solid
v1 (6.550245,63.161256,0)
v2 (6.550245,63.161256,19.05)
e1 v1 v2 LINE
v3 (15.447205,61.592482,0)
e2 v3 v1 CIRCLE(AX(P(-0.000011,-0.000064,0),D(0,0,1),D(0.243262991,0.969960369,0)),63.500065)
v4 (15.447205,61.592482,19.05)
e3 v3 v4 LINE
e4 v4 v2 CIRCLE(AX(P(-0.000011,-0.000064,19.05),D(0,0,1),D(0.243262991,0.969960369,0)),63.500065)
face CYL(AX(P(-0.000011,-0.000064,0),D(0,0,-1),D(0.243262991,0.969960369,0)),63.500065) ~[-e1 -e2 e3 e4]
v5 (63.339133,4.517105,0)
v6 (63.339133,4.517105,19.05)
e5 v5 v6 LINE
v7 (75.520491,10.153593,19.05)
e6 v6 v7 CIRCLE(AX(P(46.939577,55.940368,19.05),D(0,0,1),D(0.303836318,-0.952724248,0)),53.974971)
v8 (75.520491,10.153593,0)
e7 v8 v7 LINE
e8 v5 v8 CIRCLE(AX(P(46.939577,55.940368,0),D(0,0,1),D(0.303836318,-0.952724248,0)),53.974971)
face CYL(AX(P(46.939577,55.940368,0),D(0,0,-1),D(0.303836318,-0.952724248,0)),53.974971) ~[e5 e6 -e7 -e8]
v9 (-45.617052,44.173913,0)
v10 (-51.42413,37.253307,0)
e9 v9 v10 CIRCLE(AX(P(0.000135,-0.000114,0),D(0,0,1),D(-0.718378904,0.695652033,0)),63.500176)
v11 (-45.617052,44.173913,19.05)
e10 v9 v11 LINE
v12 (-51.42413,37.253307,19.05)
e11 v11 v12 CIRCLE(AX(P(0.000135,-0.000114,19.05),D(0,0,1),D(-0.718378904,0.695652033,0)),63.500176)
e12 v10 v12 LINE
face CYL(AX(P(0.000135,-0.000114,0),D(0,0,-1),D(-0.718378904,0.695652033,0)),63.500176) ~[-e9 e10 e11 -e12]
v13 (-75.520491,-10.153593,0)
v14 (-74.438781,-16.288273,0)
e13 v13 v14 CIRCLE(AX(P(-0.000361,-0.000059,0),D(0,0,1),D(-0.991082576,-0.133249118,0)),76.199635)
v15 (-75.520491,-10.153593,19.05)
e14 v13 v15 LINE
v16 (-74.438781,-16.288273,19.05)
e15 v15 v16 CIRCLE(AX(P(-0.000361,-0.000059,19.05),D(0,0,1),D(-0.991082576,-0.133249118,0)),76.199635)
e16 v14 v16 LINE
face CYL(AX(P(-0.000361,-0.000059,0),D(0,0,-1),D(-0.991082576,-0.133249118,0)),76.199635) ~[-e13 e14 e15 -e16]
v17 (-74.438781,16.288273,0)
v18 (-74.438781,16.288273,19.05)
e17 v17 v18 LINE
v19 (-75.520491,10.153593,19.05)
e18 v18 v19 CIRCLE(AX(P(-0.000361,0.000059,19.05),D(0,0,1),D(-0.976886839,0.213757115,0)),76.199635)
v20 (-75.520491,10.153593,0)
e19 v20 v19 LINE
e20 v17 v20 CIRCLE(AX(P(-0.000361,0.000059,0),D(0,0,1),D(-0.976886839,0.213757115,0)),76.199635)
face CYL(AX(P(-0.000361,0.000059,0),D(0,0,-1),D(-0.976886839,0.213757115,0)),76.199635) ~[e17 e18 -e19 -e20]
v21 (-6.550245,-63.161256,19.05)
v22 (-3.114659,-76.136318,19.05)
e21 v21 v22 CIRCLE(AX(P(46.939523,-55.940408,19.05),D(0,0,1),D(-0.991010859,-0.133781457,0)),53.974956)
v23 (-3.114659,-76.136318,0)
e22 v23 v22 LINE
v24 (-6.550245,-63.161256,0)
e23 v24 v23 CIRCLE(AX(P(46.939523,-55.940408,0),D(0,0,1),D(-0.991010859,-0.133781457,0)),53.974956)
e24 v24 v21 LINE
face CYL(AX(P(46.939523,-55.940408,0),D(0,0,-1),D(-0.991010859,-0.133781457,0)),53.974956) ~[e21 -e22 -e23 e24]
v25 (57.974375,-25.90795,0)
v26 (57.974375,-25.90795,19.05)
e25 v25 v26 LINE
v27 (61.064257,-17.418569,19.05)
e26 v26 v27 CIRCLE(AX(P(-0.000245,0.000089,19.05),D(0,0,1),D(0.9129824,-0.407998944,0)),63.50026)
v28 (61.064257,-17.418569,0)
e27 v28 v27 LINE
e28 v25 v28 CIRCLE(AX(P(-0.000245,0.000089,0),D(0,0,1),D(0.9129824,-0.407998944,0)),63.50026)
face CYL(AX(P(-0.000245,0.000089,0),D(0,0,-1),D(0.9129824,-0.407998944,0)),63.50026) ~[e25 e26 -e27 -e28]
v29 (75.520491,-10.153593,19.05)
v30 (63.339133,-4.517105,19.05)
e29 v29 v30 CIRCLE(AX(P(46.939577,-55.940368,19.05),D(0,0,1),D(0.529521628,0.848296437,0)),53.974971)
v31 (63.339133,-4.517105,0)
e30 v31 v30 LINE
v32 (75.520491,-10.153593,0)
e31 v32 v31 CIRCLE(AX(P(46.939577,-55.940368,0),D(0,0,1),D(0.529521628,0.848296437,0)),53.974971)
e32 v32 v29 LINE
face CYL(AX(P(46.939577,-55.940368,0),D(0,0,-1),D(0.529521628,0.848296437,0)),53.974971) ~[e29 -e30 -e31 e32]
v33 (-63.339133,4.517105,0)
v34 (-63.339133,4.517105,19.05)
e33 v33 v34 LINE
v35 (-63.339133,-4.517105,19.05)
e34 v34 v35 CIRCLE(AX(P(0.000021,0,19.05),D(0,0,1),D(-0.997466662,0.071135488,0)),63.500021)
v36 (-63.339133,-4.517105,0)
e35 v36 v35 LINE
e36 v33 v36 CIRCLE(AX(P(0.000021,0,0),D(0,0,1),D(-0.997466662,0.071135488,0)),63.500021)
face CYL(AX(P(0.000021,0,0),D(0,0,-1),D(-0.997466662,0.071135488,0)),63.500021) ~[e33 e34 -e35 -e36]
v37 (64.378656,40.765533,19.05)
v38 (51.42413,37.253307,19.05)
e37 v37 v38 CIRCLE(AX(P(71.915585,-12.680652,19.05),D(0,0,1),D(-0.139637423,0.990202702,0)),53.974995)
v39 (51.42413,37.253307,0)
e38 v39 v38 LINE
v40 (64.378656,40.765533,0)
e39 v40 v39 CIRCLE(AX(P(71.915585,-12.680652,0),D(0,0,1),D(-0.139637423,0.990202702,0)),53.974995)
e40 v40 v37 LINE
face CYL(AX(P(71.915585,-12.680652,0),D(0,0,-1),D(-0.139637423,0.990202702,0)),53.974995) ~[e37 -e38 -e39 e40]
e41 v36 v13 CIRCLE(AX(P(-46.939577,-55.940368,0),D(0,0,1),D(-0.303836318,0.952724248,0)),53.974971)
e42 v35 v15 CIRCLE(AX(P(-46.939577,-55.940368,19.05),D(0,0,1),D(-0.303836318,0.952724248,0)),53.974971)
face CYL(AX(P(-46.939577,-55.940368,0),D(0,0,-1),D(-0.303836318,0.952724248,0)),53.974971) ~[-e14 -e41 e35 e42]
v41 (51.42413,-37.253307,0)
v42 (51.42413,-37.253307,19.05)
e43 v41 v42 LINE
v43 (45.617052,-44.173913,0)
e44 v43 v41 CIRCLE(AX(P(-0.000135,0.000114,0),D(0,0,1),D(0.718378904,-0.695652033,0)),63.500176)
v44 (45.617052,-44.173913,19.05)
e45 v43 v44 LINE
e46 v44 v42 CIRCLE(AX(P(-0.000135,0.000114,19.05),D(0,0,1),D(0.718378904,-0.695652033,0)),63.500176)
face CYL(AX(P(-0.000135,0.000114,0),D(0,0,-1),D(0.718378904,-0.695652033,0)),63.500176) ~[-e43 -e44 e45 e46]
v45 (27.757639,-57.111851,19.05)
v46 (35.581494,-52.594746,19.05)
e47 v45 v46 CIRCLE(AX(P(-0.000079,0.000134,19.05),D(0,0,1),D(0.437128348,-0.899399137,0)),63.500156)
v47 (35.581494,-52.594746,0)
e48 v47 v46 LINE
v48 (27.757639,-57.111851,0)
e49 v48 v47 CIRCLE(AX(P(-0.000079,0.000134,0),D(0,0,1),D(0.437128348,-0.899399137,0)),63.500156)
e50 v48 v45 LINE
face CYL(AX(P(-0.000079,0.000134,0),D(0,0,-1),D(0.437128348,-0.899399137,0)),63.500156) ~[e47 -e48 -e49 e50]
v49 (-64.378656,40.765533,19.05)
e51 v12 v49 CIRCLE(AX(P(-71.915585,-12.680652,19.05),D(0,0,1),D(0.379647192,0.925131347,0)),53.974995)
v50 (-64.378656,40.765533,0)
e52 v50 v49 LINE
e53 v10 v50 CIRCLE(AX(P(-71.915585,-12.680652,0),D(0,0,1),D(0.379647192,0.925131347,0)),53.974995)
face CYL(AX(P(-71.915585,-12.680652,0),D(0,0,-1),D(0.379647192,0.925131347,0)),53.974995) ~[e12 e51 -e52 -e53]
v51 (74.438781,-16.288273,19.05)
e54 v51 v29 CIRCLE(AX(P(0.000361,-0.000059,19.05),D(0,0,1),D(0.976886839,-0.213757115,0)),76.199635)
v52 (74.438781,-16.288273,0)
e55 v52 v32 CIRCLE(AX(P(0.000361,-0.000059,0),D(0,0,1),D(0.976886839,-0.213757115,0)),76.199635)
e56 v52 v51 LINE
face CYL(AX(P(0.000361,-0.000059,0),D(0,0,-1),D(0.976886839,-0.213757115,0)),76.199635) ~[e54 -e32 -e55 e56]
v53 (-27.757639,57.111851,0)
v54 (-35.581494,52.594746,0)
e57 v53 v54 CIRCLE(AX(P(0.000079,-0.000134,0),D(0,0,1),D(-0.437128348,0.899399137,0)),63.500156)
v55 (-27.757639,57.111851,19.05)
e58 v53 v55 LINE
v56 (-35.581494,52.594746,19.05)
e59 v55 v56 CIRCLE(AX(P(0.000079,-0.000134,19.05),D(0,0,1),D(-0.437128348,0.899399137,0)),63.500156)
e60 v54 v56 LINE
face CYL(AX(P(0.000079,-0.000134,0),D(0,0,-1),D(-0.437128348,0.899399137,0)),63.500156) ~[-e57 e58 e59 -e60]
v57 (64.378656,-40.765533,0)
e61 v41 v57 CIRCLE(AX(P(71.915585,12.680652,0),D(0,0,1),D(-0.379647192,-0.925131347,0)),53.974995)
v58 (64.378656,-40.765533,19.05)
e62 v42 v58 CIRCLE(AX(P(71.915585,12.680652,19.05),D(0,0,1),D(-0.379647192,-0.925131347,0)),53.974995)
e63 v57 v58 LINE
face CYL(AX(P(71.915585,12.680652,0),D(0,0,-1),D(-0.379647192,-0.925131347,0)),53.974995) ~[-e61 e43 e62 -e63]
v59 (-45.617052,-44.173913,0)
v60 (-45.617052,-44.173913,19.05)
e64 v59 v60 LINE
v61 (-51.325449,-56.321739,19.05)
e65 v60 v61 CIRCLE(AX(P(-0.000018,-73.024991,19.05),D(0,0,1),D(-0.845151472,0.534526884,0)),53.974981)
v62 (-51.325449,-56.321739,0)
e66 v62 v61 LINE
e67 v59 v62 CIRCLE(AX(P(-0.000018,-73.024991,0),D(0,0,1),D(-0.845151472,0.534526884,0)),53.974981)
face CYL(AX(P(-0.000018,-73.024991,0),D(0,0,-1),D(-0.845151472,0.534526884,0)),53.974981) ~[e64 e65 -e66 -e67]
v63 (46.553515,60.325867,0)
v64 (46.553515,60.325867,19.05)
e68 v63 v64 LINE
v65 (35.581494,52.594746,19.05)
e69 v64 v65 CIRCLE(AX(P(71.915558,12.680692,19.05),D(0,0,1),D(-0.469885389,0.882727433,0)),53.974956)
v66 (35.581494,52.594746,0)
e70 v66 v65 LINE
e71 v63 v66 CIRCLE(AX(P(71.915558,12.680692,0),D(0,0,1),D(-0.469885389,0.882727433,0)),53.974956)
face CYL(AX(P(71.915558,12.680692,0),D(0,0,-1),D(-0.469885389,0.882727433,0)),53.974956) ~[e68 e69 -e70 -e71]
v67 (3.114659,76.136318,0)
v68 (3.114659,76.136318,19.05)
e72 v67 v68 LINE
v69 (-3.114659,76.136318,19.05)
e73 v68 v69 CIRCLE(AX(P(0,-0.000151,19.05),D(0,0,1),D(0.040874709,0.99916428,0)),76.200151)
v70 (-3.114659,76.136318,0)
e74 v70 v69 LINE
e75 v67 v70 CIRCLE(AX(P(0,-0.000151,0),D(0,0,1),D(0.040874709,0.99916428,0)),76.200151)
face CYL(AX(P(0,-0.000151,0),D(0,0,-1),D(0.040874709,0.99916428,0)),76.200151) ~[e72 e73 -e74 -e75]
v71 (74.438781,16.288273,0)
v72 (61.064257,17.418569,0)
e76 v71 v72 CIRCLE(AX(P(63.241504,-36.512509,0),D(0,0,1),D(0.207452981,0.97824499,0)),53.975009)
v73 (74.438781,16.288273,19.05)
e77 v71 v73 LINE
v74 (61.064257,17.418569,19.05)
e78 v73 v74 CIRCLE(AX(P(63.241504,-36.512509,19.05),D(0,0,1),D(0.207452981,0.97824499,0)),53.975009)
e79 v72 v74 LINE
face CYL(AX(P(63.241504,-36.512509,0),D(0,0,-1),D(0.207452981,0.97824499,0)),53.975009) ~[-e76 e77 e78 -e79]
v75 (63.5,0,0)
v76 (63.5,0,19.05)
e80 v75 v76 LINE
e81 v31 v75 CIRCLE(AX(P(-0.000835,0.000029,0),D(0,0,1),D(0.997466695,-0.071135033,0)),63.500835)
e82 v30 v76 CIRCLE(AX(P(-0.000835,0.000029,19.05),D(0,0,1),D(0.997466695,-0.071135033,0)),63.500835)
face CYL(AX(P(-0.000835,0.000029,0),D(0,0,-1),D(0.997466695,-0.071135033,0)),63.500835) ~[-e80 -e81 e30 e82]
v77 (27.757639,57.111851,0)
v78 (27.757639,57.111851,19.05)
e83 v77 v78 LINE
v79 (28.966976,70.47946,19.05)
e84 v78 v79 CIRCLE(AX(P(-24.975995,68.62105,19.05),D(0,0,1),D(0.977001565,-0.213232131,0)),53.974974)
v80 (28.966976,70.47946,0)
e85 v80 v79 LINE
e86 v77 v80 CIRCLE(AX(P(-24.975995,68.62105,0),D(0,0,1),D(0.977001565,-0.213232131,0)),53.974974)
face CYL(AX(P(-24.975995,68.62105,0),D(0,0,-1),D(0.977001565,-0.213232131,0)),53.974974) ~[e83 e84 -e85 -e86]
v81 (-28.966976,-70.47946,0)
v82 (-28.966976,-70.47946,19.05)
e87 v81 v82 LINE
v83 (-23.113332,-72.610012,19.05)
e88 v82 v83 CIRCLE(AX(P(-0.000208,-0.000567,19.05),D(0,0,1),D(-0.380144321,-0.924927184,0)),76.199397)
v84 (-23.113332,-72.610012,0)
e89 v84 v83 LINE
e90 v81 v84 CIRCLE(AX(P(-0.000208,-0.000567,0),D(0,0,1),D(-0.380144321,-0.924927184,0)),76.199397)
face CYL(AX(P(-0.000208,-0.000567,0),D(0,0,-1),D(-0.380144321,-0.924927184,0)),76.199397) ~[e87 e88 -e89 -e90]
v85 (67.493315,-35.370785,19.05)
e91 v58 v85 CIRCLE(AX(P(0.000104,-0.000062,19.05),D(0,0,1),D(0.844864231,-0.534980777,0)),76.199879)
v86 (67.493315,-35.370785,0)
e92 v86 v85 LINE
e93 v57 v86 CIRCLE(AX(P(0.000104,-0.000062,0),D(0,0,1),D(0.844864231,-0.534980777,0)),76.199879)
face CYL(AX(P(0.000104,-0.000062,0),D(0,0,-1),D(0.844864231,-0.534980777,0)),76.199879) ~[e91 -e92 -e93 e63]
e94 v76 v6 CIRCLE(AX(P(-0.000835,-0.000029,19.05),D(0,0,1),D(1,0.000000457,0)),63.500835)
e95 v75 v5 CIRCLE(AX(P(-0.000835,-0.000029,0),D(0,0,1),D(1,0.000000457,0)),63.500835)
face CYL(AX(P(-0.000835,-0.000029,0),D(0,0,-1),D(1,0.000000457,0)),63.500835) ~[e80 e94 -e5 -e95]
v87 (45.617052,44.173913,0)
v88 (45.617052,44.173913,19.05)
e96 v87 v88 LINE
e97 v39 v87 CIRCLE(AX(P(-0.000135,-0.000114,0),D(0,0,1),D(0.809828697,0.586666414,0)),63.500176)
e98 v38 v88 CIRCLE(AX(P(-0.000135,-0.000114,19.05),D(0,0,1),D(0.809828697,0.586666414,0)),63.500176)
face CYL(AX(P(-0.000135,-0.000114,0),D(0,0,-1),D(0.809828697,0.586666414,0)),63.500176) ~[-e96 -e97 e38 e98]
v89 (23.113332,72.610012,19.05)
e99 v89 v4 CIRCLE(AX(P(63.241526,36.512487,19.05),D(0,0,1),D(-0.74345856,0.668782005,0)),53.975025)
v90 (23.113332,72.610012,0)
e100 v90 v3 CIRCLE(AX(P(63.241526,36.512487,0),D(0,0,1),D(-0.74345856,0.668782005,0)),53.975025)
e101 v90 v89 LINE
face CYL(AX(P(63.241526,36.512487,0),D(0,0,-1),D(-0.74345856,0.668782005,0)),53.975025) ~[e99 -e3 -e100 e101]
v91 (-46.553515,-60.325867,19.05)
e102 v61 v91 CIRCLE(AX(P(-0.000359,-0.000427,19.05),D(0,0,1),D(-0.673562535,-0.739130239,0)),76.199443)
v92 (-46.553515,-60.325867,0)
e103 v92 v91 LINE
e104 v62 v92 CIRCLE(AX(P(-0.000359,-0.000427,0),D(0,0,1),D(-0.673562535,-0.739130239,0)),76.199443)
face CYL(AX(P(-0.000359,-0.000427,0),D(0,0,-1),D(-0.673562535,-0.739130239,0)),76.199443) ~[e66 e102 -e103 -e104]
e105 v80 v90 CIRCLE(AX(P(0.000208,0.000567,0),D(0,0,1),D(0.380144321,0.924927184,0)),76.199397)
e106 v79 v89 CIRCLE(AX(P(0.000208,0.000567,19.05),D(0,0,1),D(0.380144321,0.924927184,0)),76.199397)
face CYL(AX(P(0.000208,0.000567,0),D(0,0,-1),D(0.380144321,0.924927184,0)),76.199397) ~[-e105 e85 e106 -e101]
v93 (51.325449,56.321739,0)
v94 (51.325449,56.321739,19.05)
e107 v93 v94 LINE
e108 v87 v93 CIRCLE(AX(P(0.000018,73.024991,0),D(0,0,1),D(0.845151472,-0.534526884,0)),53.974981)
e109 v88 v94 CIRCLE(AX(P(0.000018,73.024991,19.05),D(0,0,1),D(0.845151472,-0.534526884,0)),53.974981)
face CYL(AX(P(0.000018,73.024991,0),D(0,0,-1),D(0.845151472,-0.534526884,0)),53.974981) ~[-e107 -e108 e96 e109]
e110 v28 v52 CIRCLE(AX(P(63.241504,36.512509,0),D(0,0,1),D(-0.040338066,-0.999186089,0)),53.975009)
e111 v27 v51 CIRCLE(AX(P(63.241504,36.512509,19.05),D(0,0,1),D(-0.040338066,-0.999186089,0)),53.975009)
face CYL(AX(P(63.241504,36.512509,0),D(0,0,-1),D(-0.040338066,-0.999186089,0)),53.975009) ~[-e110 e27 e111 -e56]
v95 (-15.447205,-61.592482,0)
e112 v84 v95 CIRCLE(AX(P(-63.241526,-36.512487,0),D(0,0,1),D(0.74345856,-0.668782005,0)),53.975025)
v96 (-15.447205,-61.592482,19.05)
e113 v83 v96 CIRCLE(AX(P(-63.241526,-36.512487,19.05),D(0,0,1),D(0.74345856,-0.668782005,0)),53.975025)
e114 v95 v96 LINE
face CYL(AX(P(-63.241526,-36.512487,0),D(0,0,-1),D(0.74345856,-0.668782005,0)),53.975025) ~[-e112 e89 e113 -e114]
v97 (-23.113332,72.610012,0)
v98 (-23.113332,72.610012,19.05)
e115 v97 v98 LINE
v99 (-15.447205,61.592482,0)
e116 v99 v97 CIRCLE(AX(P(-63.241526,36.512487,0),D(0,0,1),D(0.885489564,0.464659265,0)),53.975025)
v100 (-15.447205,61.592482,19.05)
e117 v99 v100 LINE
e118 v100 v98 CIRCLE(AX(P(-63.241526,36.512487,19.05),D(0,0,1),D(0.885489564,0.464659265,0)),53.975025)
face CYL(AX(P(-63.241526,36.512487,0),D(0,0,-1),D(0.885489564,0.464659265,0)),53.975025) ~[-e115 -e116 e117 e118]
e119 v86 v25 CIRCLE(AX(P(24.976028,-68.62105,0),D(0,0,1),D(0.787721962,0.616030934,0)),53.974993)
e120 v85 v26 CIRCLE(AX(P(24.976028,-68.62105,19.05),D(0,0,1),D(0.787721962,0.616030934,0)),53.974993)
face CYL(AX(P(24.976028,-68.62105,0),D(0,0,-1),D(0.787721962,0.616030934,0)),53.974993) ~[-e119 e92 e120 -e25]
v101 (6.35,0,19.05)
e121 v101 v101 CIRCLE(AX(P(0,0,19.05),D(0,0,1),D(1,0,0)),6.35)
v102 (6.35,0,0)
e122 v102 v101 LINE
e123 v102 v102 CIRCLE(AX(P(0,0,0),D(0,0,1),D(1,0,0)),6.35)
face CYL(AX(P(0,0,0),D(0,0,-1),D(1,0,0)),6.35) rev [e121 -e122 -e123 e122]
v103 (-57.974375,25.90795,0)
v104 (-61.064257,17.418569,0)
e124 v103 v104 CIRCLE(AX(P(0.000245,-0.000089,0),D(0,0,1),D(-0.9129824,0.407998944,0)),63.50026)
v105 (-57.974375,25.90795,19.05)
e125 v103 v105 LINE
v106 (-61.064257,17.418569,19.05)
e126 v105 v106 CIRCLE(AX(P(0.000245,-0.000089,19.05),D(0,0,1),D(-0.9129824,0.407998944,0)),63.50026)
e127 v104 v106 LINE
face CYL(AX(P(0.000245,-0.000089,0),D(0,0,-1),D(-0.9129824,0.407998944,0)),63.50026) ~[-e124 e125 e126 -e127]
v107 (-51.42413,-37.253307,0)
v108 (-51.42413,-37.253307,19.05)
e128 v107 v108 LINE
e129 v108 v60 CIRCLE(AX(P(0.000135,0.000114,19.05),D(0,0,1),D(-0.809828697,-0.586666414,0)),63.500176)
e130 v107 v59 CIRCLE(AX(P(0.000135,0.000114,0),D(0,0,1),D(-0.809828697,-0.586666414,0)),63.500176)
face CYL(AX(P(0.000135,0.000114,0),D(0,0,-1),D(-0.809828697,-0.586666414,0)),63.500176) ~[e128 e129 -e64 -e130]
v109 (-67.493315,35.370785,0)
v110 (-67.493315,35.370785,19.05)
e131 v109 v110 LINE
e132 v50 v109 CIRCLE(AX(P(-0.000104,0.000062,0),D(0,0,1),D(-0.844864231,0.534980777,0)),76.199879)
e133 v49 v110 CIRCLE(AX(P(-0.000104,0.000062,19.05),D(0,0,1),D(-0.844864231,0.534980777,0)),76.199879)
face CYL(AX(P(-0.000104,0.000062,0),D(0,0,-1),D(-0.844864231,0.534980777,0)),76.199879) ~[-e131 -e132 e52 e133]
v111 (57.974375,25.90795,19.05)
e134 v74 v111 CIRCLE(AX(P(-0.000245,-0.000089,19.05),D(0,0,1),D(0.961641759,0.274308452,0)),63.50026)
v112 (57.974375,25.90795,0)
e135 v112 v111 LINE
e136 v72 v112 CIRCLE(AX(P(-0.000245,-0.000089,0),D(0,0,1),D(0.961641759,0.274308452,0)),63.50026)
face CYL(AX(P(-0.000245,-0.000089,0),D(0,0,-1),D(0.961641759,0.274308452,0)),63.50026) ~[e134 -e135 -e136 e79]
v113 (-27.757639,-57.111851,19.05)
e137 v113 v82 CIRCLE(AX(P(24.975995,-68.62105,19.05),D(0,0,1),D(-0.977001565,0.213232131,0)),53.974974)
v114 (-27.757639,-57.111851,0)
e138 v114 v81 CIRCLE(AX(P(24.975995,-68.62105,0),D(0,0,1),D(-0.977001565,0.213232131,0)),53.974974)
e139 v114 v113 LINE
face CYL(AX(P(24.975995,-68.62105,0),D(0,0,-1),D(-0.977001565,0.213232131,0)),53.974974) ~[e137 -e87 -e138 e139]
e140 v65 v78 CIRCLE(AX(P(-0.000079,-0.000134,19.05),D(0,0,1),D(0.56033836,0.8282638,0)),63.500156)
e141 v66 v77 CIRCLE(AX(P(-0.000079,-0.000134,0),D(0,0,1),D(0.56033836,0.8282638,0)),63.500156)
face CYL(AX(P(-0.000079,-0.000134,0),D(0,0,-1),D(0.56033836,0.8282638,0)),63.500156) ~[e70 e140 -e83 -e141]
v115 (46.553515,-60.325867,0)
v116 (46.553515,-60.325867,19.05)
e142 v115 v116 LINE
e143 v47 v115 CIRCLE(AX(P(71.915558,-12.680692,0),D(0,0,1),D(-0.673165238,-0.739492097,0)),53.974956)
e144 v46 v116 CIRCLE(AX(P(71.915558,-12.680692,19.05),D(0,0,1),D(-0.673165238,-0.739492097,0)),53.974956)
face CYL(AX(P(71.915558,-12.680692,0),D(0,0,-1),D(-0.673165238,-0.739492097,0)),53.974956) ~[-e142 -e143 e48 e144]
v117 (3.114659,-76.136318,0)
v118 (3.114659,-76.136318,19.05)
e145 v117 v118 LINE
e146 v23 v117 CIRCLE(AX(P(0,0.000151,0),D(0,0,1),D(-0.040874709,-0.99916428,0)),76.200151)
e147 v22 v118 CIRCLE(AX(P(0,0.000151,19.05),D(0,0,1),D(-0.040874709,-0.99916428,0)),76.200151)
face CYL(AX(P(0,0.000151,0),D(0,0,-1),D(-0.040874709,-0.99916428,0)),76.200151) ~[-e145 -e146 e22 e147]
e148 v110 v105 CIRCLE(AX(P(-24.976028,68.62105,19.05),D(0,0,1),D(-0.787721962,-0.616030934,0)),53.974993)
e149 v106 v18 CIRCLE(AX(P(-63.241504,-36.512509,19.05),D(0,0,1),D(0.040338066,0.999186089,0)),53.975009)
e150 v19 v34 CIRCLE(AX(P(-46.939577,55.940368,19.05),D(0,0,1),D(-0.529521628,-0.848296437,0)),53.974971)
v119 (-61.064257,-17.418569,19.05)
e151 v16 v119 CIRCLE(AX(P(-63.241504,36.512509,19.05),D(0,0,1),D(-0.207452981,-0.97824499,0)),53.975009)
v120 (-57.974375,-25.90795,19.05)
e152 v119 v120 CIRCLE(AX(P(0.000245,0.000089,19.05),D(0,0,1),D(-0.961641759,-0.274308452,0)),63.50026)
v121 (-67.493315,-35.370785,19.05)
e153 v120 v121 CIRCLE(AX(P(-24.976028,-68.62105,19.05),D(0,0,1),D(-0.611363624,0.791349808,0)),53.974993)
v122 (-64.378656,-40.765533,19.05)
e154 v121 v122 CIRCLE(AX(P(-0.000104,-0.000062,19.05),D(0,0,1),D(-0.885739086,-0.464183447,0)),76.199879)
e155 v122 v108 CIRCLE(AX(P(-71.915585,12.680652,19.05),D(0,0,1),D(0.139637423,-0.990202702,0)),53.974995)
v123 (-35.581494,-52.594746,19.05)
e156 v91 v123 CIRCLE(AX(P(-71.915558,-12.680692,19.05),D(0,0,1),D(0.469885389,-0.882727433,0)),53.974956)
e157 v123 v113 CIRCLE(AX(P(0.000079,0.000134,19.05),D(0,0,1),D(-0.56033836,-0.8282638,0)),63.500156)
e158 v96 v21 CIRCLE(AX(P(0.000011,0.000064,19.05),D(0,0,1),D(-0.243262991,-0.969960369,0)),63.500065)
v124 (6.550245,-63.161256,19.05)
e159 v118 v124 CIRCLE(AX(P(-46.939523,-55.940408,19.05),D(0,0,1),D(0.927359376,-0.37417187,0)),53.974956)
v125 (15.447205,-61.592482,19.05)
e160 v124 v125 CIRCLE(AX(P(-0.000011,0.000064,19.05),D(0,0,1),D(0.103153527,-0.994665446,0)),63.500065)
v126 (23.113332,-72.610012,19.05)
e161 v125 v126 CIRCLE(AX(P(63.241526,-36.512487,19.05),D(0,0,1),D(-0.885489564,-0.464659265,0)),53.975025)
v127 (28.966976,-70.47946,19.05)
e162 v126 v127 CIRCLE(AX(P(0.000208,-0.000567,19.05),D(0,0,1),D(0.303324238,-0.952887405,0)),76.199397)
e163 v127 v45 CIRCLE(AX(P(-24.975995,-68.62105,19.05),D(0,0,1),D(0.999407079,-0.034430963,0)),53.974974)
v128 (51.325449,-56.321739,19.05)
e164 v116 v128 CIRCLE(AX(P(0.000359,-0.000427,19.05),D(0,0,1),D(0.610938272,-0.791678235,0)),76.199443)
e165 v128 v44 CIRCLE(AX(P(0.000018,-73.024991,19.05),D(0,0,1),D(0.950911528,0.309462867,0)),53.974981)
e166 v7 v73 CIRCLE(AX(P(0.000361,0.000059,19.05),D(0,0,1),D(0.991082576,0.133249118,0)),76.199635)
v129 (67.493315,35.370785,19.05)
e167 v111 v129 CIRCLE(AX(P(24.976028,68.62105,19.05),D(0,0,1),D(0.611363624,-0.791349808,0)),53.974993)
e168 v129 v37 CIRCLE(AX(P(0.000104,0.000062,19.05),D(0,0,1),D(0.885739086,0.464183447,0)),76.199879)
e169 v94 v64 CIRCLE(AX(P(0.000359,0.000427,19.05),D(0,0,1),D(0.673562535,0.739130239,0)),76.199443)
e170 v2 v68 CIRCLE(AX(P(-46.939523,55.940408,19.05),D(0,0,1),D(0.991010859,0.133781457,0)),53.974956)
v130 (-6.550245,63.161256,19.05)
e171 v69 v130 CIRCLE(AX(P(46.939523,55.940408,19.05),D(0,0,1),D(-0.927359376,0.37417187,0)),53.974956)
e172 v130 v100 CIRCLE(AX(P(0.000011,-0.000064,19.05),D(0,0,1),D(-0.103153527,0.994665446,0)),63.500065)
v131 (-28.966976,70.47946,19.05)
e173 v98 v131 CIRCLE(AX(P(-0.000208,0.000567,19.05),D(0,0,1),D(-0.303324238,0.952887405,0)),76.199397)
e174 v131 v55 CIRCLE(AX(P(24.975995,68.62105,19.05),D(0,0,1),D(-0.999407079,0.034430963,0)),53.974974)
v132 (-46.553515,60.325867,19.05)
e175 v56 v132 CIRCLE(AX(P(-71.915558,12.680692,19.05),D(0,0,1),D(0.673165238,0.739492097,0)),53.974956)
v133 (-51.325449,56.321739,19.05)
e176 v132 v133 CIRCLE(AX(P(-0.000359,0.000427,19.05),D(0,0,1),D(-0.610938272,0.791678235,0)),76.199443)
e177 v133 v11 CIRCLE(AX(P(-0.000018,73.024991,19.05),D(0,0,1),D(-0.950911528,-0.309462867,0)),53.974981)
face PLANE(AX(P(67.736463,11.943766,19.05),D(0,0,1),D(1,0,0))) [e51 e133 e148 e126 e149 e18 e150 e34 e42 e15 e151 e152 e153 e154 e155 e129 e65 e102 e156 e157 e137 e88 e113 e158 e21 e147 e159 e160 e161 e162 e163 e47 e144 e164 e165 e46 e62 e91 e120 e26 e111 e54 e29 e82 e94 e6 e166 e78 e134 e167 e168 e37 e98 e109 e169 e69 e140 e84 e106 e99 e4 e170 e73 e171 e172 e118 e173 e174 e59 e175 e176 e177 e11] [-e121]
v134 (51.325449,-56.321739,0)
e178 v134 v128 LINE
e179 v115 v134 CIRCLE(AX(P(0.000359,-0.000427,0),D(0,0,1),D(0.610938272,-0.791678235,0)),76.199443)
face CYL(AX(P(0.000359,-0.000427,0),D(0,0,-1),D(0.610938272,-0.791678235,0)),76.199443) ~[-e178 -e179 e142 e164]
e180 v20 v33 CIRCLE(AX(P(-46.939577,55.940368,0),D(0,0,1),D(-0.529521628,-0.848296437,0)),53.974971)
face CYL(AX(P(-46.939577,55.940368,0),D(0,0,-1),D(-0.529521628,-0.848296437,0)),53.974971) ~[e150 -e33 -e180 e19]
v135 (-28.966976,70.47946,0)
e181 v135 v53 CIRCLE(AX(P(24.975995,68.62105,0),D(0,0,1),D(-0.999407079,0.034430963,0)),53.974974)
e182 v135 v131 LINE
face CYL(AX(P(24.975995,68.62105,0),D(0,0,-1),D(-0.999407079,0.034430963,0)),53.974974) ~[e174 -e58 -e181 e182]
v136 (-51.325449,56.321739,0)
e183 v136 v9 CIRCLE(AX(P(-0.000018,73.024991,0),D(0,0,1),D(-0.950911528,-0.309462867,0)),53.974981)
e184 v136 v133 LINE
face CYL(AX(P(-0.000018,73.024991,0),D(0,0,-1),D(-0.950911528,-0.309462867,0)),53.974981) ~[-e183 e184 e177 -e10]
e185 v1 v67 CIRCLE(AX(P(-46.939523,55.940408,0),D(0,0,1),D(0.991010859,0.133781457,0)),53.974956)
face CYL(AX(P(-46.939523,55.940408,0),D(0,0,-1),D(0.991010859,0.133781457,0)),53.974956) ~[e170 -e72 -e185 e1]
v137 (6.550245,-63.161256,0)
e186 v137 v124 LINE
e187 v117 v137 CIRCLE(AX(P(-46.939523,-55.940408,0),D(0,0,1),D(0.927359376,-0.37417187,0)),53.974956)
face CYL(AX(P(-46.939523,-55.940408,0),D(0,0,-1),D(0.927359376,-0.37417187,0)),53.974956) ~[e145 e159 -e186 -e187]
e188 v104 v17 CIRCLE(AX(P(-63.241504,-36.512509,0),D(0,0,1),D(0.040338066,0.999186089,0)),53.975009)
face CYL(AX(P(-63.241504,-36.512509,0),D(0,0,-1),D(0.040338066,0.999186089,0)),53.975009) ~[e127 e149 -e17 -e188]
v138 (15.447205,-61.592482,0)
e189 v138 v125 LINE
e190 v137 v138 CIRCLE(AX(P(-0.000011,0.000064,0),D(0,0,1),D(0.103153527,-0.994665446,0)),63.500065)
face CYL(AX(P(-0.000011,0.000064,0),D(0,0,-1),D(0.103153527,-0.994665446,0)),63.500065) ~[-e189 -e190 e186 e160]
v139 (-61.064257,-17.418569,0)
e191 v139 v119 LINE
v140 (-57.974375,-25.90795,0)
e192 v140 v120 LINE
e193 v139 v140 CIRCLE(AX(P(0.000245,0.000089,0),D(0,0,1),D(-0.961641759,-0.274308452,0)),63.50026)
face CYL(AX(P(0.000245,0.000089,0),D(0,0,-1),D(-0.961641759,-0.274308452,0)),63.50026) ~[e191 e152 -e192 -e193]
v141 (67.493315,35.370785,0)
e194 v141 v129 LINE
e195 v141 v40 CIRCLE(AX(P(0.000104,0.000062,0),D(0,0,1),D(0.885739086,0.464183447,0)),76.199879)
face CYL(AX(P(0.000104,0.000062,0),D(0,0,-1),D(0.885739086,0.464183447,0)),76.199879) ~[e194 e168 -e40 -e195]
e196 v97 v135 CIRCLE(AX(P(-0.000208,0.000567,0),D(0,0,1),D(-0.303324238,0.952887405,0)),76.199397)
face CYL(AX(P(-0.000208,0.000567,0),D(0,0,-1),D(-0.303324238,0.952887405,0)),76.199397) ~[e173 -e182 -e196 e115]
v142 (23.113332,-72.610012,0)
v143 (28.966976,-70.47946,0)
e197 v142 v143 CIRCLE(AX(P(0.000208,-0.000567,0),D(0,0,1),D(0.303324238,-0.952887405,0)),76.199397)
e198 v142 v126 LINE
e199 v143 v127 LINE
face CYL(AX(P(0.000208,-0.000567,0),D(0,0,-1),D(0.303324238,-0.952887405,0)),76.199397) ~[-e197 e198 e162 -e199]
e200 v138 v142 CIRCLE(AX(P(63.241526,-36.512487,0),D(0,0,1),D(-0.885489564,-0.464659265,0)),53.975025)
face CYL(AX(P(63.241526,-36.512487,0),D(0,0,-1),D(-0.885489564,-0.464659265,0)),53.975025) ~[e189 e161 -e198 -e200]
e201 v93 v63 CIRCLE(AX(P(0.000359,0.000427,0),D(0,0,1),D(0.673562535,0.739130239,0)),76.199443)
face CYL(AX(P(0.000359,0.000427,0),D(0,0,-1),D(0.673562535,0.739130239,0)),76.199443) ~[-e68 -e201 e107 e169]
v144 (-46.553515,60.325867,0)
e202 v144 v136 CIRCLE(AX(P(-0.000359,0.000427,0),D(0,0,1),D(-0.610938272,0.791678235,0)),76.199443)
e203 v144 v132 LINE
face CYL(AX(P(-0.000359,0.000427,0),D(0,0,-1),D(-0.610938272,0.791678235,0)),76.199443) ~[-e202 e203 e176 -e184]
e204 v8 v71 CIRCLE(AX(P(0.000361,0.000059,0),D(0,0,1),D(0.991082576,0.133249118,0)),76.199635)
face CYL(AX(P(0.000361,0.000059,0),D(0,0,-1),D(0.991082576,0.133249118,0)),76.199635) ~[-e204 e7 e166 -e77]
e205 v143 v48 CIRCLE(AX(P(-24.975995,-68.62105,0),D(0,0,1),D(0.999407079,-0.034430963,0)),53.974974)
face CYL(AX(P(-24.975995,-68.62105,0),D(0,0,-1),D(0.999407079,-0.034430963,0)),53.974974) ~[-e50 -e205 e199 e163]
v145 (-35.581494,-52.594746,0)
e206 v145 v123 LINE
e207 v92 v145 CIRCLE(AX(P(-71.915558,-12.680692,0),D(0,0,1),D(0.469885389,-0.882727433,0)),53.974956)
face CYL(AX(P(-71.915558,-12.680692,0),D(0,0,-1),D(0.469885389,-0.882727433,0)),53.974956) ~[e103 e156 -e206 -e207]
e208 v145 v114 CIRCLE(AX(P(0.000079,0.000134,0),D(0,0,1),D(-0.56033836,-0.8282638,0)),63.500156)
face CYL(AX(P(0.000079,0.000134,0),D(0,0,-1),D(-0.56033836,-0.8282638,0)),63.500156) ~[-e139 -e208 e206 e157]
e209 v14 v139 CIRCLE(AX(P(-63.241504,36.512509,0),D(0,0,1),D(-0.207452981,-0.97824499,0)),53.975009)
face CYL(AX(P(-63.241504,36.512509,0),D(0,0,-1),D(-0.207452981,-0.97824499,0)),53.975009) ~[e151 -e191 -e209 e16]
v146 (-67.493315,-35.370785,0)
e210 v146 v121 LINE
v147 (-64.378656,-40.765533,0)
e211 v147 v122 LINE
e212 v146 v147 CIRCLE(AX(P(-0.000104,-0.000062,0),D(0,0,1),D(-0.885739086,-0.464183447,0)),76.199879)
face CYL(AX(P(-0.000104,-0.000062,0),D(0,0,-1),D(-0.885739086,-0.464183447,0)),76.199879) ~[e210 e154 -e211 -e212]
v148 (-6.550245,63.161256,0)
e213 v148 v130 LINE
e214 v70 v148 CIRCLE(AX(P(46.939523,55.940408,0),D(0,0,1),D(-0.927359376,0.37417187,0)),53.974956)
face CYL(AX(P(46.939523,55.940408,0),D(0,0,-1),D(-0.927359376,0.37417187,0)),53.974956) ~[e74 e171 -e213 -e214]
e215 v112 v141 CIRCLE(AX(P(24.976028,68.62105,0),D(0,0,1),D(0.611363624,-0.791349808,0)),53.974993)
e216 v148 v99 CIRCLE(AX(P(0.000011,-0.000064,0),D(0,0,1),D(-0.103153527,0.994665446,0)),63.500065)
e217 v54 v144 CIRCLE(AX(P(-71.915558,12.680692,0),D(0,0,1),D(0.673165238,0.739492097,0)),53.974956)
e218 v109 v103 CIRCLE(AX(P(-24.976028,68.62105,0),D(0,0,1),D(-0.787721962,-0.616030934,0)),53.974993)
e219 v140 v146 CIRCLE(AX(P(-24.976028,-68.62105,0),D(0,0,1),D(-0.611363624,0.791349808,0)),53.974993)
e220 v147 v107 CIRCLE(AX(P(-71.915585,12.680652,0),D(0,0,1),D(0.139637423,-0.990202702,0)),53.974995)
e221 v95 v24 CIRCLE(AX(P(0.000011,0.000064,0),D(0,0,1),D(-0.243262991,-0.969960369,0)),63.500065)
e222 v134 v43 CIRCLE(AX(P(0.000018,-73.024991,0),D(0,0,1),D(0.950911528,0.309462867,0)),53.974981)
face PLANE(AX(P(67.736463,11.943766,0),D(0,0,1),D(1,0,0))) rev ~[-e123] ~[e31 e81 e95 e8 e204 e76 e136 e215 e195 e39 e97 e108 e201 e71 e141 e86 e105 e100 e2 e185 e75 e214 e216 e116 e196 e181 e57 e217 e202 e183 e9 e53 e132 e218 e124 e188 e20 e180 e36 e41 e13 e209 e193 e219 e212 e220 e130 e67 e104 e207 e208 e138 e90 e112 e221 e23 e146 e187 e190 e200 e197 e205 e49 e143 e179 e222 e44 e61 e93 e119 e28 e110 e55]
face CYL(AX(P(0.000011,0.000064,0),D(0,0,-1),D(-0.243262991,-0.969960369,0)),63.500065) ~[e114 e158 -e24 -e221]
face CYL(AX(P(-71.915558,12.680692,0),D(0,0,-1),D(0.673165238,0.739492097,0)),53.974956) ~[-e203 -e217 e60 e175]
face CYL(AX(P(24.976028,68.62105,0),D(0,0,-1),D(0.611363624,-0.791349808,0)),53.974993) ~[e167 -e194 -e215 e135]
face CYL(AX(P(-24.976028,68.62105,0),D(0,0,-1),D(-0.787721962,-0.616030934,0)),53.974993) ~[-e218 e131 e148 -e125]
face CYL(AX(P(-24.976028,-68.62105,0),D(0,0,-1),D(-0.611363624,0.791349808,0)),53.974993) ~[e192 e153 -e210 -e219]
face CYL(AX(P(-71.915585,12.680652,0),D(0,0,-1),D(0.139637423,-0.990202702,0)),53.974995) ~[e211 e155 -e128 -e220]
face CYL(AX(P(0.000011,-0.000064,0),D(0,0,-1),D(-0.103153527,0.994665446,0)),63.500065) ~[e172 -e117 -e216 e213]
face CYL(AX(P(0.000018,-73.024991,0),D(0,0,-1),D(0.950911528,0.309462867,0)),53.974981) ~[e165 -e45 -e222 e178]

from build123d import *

# Parameters (mm, degrees)
F0_R     = 6.35
F1_DEPTH = 19.05


with BuildPart() as f1:
    # F0 (on Top) → F1 (new body)
    with BuildSketch(Plane.XY):
        with BuildLine():
            ThreePointArc((61.064257, 17.418569), (62.535292, 11.026659), (63.339133, 4.517105))
            ThreePointArc((63.339133, 4.517105), (69.605701, 6.955225), (75.520491, 10.153593))
            ThreePointArc((75.520491, 10.153593), (75.042351, 13.231991), (74.438781, 16.288273))
            ThreePointArc((74.438781, 16.288273), (67.78679, 17.270778), (61.064257, 17.418569))
        make_face()
        with BuildLine():
            ThreePointArc((51.42413, 37.253307), (54.992613, 31.75), (57.974375, 25.90795))
            ThreePointArc((57.974375, 25.90795), (63.029136, 30.342325), (67.493315, 35.370785))
            ThreePointArc((67.493315, 35.370785), (65.991136, 38.1), (64.378656, 40.765533))
            ThreePointArc((64.378656, 40.765533), (57.791793, 39.413671), (51.42413, 37.253307))
        make_face()
        with BuildLine():
            ThreePointArc((35.581494, 52.594746), (40.817013, 48.643822), (45.617052, 44.173913))
            ThreePointArc((45.617052, 44.173913), (48.850328, 50.069693), (51.325449, 56.321739))
            ThreePointArc((51.325449, 56.321739), (48.980416, 58.372587), (46.553515, 60.325867))
            ThreePointArc((46.553515, 60.325867), (40.826252, 56.802693), (35.581494, 52.594746))
        make_face()
        with BuildLine():
            ThreePointArc((15.447205, 61.592482), (21.718279, 59.670481), (27.757639, 57.111851))
            ThreePointArc((27.757639, 57.111851), (28.779449, 63.757918), (28.966976, 70.47946))
            ThreePointArc((28.966976, 70.47946), (26.061935, 71.604578), (23.113332, 72.610012))
            ThreePointArc((23.113332, 72.610012), (18.936463, 67.340472), (15.447205, 61.592482))
        make_face()
        with BuildLine():
            ThreePointArc((-6.550245, 63.161256), (0, 63.5), (6.550245, 63.161256))
            ThreePointArc((6.550245, 63.161256), (5.237344, 69.755996), (3.114659, 76.136318))
            ThreePointArc((3.114659, 76.136318), (0, 76.2), (-3.114659, 76.136318))
            ThreePointArc((-3.114659, 76.136318), (-5.237344, 69.755996), (-6.550245, 63.161256))
        make_face()
        with BuildLine():
            ThreePointArc((-27.757639, 57.111851), (-21.718279, 59.670481), (-15.447205, 61.592482))
            ThreePointArc((-15.447205, 61.592482), (-18.936463, 67.340472), (-23.113332, 72.610012))
            ThreePointArc((-23.113332, 72.610012), (-26.061935, 71.604578), (-28.966976, 70.47946))
            ThreePointArc((-28.966976, 70.47946), (-28.779449, 63.757918), (-27.757639, 57.111851))
        make_face()
        with BuildLine():
            ThreePointArc((-45.617052, 44.173913), (-40.817013, 48.643822), (-35.581494, 52.594746))
            ThreePointArc((-35.581494, 52.594746), (-40.826252, 56.802693), (-46.553515, 60.325867))
            ThreePointArc((-46.553515, 60.325867), (-48.980416, 58.372587), (-51.325449, 56.321739))
            ThreePointArc((-51.325449, 56.321739), (-48.850328, 50.069693), (-45.617052, 44.173913))
        make_face()
        with BuildLine():
            ThreePointArc((-57.974375, 25.90795), (-54.992613, 31.75), (-51.42413, 37.253307))
            ThreePointArc((-51.42413, 37.253307), (-57.791793, 39.413671), (-64.378656, 40.765533))
            ThreePointArc((-64.378656, 40.765533), (-65.991136, 38.1), (-67.493315, 35.370785))
            ThreePointArc((-67.493315, 35.370785), (-63.029136, 30.342325), (-57.974375, 25.90795))
        make_face()
        with BuildLine():
            ThreePointArc((-63.339133, 4.517105), (-62.535292, 11.026659), (-61.064257, 17.418569))
            ThreePointArc((-61.064257, 17.418569), (-67.78679, 17.270778), (-74.438781, 16.288273))
            ThreePointArc((-74.438781, 16.288273), (-75.042351, 13.231991), (-75.520491, 10.153593))
            ThreePointArc((-75.520491, 10.153593), (-69.605701, 6.955225), (-63.339133, 4.517105))
        make_face()
        with BuildLine():
            ThreePointArc((-74.438781, -16.288273), (-67.78679, -17.270778), (-61.064257, -17.418569))
            ThreePointArc((-61.064257, -17.418569), (-62.535292, -11.026659), (-63.339133, -4.517105))
            ThreePointArc((-63.339133, -4.517105), (-69.605701, -6.955225), (-75.520491, -10.153593))
            ThreePointArc((-75.520491, -10.153593), (-75.042351, -13.231991), (-74.438781, -16.288273))
        make_face()
        with BuildLine():
            ThreePointArc((-64.378656, -40.765533), (-57.791793, -39.413671), (-51.42413, -37.253307))
            ThreePointArc((-51.42413, -37.253307), (-54.992613, -31.75), (-57.974375, -25.90795))
            ThreePointArc((-57.974375, -25.90795), (-63.029136, -30.342325), (-67.493315, -35.370785))
            ThreePointArc((-67.493315, -35.370785), (-65.991136, -38.1), (-64.378656, -40.765533))
        make_face()
        with BuildLine():
            ThreePointArc((-46.553515, -60.325867), (-40.826252, -56.802693), (-35.581494, -52.594746))
            ThreePointArc((-35.581494, -52.594746), (-40.817013, -48.643822), (-45.617052, -44.173913))
            ThreePointArc((-45.617052, -44.173913), (-48.850328, -50.069693), (-51.325449, -56.321739))
            ThreePointArc((-51.325449, -56.321739), (-48.980416, -58.372587), (-46.553515, -60.325867))
        make_face()
        with BuildLine():
            ThreePointArc((-23.113332, -72.610012), (-18.936463, -67.340472), (-15.447205, -61.592482))
            ThreePointArc((-15.447205, -61.592482), (-21.718279, -59.670481), (-27.757639, -57.111851))
            ThreePointArc((-27.757639, -57.111851), (-28.779449, -63.757918), (-28.966976, -70.47946))
            ThreePointArc((-28.966976, -70.47946), (-26.061935, -71.604578), (-23.113332, -72.610012))
        make_face()
        with BuildLine():
            ThreePointArc((3.114659, -76.136318), (5.237344, -69.755996), (6.550245, -63.161256))
            ThreePointArc((6.550245, -63.161256), (0, -63.5), (-6.550245, -63.161256))
            ThreePointArc((-6.550245, -63.161256), (-5.237344, -69.755996), (-3.114659, -76.136318))
            ThreePointArc((-3.114659, -76.136318), (0, -76.2), (3.114659, -76.136318))
        make_face()
        with BuildLine():
            ThreePointArc((28.966976, -70.47946), (28.779449, -63.757918), (27.757639, -57.111851))
            ThreePointArc((27.757639, -57.111851), (21.718279, -59.670481), (15.447205, -61.592482))
            ThreePointArc((15.447205, -61.592482), (18.936463, -67.340472), (23.113332, -72.610012))
            ThreePointArc((23.113332, -72.610012), (26.061935, -71.604578), (28.966976, -70.47946))
        make_face()
        with BuildLine():
            ThreePointArc((51.325449, -56.321739), (48.850328, -50.069693), (45.617052, -44.173913))
            ThreePointArc((45.617052, -44.173913), (40.817013, -48.643822), (35.581494, -52.594746))
            ThreePointArc((35.581494, -52.594746), (40.826252, -56.802693), (46.553515, -60.325867))
            ThreePointArc((46.553515, -60.325867), (48.980416, -58.372587), (51.325449, -56.321739))
        make_face()
        with BuildLine():
            ThreePointArc((67.493315, -35.370785), (63.029136, -30.342325), (57.974375, -25.90795))
            ThreePointArc((57.974375, -25.90795), (54.992613, -31.75), (51.42413, -37.253307))
            ThreePointArc((51.42413, -37.253307), (57.791793, -39.413671), (64.378656, -40.765533))
            ThreePointArc((64.378656, -40.765533), (65.991136, -38.1), (67.493315, -35.370785))
        make_face()
        with BuildLine():
            ThreePointArc((75.520491, -10.153593), (69.605701, -6.955225), (63.339133, -4.517105))
            ThreePointArc((63.339133, -4.517105), (62.535292, -11.026659), (61.064257, -17.418569))
            ThreePointArc((61.064257, -17.418569), (67.78679, -17.270778), (74.438781, -16.288273))
            ThreePointArc((74.438781, -16.288273), (75.042351, -13.231991), (75.520491, -10.153593))
        make_face()
        with BuildLine():
            ThreePointArc((63.339133, -4.517105), (63.45977, -2.259984), (63.5, 0))
            ThreePointArc((63.5, 0), (63.45977, 2.259984), (63.339133, 4.517105))
            ThreePointArc((63.339133, 4.517105), (62.535292, 11.026659), (61.064257, 17.418569))
            ThreePointArc((61.064257, 17.418569), (59.670481, 21.718279), (57.974375, 25.90795))
            ThreePointArc((57.974375, 25.90795), (54.992613, 31.75), (51.42413, 37.253307))
            ThreePointArc((51.42413, 37.253307), (48.643822, 40.817013), (45.617052, 44.173913))
            ThreePointArc((45.617052, 44.173913), (40.817013, 48.643822), (35.581494, 52.594746))
            ThreePointArc((35.581494, 52.594746), (31.75, 54.992613), (27.757639, 57.111851))
            ThreePointArc((27.757639, 57.111851), (21.718279, 59.670481), (15.447205, 61.592482))
            ThreePointArc((15.447205, 61.592482), (11.026659, 62.535292), (6.550245, 63.161256))
            ThreePointArc((6.550245, 63.161256), (0, 63.5), (-6.550245, 63.161256))
            ThreePointArc((-6.550245, 63.161256), (-11.026659, 62.535292), (-15.447205, 61.592482))
            ThreePointArc((-15.447205, 61.592482), (-21.718279, 59.670481), (-27.757639, 57.111851))
            ThreePointArc((-27.757639, 57.111851), (-31.75, 54.992613), (-35.581494, 52.594746))
            ThreePointArc((-35.581494, 52.594746), (-40.817013, 48.643822), (-45.617052, 44.173913))
            ThreePointArc((-45.617052, 44.173913), (-48.643822, 40.817013), (-51.42413, 37.253307))
            ThreePointArc((-51.42413, 37.253307), (-54.992613, 31.75), (-57.974375, 25.90795))
            ThreePointArc((-57.974375, 25.90795), (-59.670481, 21.718279), (-61.064257, 17.418569))
            ThreePointArc((-61.064257, 17.418569), (-62.535292, 11.026659), (-63.339133, 4.517105))
            ThreePointArc((-63.339133, 4.517105), (-63.5, 0), (-63.339133, -4.517105))
            ThreePointArc((-63.339133, -4.517105), (-62.535292, -11.026659), (-61.064257, -17.418569))
            ThreePointArc((-61.064257, -17.418569), (-59.670481, -21.718279), (-57.974375, -25.90795))
            ThreePointArc((-57.974375, -25.90795), (-54.992613, -31.75), (-51.42413, -37.253307))
            ThreePointArc((-51.42413, -37.253307), (-48.643822, -40.817013), (-45.617052, -44.173913))
            ThreePointArc((-45.617052, -44.173913), (-40.817013, -48.643822), (-35.581494, -52.594746))
            ThreePointArc((-35.581494, -52.594746), (-31.75, -54.992613), (-27.757639, -57.111851))
            ThreePointArc((-27.757639, -57.111851), (-21.718279, -59.670481), (-15.447205, -61.592482))
            ThreePointArc((-15.447205, -61.592482), (-11.026659, -62.535292), (-6.550245, -63.161256))
            ThreePointArc((-6.550245, -63.161256), (0, -63.5), (6.550245, -63.161256))
            ThreePointArc((6.550245, -63.161256), (11.026659, -62.535292), (15.447205, -61.592482))
            ThreePointArc((15.447205, -61.592482), (21.718279, -59.670481), (27.757639, -57.111851))
            ThreePointArc((27.757639, -57.111851), (31.75, -54.992613), (35.581494, -52.594746))
            ThreePointArc((35.581494, -52.594746), (40.817013, -48.643822), (45.617052, -44.173913))
            ThreePointArc((45.617052, -44.173913), (48.643822, -40.817013), (51.42413, -37.253307))
            ThreePointArc((51.42413, -37.253307), (54.992613, -31.75), (57.974375, -25.90795))
            ThreePointArc((57.974375, -25.90795), (59.670481, -21.718279), (61.064257, -17.418569))
            ThreePointArc((61.064257, -17.418569), (62.535292, -11.026659), (63.339133, -4.517105))
        make_face()
        Circle(F0_R, mode=Mode.SUBTRACT)
    extrude(amount=F1_DEPTH)


solid = f1.part
